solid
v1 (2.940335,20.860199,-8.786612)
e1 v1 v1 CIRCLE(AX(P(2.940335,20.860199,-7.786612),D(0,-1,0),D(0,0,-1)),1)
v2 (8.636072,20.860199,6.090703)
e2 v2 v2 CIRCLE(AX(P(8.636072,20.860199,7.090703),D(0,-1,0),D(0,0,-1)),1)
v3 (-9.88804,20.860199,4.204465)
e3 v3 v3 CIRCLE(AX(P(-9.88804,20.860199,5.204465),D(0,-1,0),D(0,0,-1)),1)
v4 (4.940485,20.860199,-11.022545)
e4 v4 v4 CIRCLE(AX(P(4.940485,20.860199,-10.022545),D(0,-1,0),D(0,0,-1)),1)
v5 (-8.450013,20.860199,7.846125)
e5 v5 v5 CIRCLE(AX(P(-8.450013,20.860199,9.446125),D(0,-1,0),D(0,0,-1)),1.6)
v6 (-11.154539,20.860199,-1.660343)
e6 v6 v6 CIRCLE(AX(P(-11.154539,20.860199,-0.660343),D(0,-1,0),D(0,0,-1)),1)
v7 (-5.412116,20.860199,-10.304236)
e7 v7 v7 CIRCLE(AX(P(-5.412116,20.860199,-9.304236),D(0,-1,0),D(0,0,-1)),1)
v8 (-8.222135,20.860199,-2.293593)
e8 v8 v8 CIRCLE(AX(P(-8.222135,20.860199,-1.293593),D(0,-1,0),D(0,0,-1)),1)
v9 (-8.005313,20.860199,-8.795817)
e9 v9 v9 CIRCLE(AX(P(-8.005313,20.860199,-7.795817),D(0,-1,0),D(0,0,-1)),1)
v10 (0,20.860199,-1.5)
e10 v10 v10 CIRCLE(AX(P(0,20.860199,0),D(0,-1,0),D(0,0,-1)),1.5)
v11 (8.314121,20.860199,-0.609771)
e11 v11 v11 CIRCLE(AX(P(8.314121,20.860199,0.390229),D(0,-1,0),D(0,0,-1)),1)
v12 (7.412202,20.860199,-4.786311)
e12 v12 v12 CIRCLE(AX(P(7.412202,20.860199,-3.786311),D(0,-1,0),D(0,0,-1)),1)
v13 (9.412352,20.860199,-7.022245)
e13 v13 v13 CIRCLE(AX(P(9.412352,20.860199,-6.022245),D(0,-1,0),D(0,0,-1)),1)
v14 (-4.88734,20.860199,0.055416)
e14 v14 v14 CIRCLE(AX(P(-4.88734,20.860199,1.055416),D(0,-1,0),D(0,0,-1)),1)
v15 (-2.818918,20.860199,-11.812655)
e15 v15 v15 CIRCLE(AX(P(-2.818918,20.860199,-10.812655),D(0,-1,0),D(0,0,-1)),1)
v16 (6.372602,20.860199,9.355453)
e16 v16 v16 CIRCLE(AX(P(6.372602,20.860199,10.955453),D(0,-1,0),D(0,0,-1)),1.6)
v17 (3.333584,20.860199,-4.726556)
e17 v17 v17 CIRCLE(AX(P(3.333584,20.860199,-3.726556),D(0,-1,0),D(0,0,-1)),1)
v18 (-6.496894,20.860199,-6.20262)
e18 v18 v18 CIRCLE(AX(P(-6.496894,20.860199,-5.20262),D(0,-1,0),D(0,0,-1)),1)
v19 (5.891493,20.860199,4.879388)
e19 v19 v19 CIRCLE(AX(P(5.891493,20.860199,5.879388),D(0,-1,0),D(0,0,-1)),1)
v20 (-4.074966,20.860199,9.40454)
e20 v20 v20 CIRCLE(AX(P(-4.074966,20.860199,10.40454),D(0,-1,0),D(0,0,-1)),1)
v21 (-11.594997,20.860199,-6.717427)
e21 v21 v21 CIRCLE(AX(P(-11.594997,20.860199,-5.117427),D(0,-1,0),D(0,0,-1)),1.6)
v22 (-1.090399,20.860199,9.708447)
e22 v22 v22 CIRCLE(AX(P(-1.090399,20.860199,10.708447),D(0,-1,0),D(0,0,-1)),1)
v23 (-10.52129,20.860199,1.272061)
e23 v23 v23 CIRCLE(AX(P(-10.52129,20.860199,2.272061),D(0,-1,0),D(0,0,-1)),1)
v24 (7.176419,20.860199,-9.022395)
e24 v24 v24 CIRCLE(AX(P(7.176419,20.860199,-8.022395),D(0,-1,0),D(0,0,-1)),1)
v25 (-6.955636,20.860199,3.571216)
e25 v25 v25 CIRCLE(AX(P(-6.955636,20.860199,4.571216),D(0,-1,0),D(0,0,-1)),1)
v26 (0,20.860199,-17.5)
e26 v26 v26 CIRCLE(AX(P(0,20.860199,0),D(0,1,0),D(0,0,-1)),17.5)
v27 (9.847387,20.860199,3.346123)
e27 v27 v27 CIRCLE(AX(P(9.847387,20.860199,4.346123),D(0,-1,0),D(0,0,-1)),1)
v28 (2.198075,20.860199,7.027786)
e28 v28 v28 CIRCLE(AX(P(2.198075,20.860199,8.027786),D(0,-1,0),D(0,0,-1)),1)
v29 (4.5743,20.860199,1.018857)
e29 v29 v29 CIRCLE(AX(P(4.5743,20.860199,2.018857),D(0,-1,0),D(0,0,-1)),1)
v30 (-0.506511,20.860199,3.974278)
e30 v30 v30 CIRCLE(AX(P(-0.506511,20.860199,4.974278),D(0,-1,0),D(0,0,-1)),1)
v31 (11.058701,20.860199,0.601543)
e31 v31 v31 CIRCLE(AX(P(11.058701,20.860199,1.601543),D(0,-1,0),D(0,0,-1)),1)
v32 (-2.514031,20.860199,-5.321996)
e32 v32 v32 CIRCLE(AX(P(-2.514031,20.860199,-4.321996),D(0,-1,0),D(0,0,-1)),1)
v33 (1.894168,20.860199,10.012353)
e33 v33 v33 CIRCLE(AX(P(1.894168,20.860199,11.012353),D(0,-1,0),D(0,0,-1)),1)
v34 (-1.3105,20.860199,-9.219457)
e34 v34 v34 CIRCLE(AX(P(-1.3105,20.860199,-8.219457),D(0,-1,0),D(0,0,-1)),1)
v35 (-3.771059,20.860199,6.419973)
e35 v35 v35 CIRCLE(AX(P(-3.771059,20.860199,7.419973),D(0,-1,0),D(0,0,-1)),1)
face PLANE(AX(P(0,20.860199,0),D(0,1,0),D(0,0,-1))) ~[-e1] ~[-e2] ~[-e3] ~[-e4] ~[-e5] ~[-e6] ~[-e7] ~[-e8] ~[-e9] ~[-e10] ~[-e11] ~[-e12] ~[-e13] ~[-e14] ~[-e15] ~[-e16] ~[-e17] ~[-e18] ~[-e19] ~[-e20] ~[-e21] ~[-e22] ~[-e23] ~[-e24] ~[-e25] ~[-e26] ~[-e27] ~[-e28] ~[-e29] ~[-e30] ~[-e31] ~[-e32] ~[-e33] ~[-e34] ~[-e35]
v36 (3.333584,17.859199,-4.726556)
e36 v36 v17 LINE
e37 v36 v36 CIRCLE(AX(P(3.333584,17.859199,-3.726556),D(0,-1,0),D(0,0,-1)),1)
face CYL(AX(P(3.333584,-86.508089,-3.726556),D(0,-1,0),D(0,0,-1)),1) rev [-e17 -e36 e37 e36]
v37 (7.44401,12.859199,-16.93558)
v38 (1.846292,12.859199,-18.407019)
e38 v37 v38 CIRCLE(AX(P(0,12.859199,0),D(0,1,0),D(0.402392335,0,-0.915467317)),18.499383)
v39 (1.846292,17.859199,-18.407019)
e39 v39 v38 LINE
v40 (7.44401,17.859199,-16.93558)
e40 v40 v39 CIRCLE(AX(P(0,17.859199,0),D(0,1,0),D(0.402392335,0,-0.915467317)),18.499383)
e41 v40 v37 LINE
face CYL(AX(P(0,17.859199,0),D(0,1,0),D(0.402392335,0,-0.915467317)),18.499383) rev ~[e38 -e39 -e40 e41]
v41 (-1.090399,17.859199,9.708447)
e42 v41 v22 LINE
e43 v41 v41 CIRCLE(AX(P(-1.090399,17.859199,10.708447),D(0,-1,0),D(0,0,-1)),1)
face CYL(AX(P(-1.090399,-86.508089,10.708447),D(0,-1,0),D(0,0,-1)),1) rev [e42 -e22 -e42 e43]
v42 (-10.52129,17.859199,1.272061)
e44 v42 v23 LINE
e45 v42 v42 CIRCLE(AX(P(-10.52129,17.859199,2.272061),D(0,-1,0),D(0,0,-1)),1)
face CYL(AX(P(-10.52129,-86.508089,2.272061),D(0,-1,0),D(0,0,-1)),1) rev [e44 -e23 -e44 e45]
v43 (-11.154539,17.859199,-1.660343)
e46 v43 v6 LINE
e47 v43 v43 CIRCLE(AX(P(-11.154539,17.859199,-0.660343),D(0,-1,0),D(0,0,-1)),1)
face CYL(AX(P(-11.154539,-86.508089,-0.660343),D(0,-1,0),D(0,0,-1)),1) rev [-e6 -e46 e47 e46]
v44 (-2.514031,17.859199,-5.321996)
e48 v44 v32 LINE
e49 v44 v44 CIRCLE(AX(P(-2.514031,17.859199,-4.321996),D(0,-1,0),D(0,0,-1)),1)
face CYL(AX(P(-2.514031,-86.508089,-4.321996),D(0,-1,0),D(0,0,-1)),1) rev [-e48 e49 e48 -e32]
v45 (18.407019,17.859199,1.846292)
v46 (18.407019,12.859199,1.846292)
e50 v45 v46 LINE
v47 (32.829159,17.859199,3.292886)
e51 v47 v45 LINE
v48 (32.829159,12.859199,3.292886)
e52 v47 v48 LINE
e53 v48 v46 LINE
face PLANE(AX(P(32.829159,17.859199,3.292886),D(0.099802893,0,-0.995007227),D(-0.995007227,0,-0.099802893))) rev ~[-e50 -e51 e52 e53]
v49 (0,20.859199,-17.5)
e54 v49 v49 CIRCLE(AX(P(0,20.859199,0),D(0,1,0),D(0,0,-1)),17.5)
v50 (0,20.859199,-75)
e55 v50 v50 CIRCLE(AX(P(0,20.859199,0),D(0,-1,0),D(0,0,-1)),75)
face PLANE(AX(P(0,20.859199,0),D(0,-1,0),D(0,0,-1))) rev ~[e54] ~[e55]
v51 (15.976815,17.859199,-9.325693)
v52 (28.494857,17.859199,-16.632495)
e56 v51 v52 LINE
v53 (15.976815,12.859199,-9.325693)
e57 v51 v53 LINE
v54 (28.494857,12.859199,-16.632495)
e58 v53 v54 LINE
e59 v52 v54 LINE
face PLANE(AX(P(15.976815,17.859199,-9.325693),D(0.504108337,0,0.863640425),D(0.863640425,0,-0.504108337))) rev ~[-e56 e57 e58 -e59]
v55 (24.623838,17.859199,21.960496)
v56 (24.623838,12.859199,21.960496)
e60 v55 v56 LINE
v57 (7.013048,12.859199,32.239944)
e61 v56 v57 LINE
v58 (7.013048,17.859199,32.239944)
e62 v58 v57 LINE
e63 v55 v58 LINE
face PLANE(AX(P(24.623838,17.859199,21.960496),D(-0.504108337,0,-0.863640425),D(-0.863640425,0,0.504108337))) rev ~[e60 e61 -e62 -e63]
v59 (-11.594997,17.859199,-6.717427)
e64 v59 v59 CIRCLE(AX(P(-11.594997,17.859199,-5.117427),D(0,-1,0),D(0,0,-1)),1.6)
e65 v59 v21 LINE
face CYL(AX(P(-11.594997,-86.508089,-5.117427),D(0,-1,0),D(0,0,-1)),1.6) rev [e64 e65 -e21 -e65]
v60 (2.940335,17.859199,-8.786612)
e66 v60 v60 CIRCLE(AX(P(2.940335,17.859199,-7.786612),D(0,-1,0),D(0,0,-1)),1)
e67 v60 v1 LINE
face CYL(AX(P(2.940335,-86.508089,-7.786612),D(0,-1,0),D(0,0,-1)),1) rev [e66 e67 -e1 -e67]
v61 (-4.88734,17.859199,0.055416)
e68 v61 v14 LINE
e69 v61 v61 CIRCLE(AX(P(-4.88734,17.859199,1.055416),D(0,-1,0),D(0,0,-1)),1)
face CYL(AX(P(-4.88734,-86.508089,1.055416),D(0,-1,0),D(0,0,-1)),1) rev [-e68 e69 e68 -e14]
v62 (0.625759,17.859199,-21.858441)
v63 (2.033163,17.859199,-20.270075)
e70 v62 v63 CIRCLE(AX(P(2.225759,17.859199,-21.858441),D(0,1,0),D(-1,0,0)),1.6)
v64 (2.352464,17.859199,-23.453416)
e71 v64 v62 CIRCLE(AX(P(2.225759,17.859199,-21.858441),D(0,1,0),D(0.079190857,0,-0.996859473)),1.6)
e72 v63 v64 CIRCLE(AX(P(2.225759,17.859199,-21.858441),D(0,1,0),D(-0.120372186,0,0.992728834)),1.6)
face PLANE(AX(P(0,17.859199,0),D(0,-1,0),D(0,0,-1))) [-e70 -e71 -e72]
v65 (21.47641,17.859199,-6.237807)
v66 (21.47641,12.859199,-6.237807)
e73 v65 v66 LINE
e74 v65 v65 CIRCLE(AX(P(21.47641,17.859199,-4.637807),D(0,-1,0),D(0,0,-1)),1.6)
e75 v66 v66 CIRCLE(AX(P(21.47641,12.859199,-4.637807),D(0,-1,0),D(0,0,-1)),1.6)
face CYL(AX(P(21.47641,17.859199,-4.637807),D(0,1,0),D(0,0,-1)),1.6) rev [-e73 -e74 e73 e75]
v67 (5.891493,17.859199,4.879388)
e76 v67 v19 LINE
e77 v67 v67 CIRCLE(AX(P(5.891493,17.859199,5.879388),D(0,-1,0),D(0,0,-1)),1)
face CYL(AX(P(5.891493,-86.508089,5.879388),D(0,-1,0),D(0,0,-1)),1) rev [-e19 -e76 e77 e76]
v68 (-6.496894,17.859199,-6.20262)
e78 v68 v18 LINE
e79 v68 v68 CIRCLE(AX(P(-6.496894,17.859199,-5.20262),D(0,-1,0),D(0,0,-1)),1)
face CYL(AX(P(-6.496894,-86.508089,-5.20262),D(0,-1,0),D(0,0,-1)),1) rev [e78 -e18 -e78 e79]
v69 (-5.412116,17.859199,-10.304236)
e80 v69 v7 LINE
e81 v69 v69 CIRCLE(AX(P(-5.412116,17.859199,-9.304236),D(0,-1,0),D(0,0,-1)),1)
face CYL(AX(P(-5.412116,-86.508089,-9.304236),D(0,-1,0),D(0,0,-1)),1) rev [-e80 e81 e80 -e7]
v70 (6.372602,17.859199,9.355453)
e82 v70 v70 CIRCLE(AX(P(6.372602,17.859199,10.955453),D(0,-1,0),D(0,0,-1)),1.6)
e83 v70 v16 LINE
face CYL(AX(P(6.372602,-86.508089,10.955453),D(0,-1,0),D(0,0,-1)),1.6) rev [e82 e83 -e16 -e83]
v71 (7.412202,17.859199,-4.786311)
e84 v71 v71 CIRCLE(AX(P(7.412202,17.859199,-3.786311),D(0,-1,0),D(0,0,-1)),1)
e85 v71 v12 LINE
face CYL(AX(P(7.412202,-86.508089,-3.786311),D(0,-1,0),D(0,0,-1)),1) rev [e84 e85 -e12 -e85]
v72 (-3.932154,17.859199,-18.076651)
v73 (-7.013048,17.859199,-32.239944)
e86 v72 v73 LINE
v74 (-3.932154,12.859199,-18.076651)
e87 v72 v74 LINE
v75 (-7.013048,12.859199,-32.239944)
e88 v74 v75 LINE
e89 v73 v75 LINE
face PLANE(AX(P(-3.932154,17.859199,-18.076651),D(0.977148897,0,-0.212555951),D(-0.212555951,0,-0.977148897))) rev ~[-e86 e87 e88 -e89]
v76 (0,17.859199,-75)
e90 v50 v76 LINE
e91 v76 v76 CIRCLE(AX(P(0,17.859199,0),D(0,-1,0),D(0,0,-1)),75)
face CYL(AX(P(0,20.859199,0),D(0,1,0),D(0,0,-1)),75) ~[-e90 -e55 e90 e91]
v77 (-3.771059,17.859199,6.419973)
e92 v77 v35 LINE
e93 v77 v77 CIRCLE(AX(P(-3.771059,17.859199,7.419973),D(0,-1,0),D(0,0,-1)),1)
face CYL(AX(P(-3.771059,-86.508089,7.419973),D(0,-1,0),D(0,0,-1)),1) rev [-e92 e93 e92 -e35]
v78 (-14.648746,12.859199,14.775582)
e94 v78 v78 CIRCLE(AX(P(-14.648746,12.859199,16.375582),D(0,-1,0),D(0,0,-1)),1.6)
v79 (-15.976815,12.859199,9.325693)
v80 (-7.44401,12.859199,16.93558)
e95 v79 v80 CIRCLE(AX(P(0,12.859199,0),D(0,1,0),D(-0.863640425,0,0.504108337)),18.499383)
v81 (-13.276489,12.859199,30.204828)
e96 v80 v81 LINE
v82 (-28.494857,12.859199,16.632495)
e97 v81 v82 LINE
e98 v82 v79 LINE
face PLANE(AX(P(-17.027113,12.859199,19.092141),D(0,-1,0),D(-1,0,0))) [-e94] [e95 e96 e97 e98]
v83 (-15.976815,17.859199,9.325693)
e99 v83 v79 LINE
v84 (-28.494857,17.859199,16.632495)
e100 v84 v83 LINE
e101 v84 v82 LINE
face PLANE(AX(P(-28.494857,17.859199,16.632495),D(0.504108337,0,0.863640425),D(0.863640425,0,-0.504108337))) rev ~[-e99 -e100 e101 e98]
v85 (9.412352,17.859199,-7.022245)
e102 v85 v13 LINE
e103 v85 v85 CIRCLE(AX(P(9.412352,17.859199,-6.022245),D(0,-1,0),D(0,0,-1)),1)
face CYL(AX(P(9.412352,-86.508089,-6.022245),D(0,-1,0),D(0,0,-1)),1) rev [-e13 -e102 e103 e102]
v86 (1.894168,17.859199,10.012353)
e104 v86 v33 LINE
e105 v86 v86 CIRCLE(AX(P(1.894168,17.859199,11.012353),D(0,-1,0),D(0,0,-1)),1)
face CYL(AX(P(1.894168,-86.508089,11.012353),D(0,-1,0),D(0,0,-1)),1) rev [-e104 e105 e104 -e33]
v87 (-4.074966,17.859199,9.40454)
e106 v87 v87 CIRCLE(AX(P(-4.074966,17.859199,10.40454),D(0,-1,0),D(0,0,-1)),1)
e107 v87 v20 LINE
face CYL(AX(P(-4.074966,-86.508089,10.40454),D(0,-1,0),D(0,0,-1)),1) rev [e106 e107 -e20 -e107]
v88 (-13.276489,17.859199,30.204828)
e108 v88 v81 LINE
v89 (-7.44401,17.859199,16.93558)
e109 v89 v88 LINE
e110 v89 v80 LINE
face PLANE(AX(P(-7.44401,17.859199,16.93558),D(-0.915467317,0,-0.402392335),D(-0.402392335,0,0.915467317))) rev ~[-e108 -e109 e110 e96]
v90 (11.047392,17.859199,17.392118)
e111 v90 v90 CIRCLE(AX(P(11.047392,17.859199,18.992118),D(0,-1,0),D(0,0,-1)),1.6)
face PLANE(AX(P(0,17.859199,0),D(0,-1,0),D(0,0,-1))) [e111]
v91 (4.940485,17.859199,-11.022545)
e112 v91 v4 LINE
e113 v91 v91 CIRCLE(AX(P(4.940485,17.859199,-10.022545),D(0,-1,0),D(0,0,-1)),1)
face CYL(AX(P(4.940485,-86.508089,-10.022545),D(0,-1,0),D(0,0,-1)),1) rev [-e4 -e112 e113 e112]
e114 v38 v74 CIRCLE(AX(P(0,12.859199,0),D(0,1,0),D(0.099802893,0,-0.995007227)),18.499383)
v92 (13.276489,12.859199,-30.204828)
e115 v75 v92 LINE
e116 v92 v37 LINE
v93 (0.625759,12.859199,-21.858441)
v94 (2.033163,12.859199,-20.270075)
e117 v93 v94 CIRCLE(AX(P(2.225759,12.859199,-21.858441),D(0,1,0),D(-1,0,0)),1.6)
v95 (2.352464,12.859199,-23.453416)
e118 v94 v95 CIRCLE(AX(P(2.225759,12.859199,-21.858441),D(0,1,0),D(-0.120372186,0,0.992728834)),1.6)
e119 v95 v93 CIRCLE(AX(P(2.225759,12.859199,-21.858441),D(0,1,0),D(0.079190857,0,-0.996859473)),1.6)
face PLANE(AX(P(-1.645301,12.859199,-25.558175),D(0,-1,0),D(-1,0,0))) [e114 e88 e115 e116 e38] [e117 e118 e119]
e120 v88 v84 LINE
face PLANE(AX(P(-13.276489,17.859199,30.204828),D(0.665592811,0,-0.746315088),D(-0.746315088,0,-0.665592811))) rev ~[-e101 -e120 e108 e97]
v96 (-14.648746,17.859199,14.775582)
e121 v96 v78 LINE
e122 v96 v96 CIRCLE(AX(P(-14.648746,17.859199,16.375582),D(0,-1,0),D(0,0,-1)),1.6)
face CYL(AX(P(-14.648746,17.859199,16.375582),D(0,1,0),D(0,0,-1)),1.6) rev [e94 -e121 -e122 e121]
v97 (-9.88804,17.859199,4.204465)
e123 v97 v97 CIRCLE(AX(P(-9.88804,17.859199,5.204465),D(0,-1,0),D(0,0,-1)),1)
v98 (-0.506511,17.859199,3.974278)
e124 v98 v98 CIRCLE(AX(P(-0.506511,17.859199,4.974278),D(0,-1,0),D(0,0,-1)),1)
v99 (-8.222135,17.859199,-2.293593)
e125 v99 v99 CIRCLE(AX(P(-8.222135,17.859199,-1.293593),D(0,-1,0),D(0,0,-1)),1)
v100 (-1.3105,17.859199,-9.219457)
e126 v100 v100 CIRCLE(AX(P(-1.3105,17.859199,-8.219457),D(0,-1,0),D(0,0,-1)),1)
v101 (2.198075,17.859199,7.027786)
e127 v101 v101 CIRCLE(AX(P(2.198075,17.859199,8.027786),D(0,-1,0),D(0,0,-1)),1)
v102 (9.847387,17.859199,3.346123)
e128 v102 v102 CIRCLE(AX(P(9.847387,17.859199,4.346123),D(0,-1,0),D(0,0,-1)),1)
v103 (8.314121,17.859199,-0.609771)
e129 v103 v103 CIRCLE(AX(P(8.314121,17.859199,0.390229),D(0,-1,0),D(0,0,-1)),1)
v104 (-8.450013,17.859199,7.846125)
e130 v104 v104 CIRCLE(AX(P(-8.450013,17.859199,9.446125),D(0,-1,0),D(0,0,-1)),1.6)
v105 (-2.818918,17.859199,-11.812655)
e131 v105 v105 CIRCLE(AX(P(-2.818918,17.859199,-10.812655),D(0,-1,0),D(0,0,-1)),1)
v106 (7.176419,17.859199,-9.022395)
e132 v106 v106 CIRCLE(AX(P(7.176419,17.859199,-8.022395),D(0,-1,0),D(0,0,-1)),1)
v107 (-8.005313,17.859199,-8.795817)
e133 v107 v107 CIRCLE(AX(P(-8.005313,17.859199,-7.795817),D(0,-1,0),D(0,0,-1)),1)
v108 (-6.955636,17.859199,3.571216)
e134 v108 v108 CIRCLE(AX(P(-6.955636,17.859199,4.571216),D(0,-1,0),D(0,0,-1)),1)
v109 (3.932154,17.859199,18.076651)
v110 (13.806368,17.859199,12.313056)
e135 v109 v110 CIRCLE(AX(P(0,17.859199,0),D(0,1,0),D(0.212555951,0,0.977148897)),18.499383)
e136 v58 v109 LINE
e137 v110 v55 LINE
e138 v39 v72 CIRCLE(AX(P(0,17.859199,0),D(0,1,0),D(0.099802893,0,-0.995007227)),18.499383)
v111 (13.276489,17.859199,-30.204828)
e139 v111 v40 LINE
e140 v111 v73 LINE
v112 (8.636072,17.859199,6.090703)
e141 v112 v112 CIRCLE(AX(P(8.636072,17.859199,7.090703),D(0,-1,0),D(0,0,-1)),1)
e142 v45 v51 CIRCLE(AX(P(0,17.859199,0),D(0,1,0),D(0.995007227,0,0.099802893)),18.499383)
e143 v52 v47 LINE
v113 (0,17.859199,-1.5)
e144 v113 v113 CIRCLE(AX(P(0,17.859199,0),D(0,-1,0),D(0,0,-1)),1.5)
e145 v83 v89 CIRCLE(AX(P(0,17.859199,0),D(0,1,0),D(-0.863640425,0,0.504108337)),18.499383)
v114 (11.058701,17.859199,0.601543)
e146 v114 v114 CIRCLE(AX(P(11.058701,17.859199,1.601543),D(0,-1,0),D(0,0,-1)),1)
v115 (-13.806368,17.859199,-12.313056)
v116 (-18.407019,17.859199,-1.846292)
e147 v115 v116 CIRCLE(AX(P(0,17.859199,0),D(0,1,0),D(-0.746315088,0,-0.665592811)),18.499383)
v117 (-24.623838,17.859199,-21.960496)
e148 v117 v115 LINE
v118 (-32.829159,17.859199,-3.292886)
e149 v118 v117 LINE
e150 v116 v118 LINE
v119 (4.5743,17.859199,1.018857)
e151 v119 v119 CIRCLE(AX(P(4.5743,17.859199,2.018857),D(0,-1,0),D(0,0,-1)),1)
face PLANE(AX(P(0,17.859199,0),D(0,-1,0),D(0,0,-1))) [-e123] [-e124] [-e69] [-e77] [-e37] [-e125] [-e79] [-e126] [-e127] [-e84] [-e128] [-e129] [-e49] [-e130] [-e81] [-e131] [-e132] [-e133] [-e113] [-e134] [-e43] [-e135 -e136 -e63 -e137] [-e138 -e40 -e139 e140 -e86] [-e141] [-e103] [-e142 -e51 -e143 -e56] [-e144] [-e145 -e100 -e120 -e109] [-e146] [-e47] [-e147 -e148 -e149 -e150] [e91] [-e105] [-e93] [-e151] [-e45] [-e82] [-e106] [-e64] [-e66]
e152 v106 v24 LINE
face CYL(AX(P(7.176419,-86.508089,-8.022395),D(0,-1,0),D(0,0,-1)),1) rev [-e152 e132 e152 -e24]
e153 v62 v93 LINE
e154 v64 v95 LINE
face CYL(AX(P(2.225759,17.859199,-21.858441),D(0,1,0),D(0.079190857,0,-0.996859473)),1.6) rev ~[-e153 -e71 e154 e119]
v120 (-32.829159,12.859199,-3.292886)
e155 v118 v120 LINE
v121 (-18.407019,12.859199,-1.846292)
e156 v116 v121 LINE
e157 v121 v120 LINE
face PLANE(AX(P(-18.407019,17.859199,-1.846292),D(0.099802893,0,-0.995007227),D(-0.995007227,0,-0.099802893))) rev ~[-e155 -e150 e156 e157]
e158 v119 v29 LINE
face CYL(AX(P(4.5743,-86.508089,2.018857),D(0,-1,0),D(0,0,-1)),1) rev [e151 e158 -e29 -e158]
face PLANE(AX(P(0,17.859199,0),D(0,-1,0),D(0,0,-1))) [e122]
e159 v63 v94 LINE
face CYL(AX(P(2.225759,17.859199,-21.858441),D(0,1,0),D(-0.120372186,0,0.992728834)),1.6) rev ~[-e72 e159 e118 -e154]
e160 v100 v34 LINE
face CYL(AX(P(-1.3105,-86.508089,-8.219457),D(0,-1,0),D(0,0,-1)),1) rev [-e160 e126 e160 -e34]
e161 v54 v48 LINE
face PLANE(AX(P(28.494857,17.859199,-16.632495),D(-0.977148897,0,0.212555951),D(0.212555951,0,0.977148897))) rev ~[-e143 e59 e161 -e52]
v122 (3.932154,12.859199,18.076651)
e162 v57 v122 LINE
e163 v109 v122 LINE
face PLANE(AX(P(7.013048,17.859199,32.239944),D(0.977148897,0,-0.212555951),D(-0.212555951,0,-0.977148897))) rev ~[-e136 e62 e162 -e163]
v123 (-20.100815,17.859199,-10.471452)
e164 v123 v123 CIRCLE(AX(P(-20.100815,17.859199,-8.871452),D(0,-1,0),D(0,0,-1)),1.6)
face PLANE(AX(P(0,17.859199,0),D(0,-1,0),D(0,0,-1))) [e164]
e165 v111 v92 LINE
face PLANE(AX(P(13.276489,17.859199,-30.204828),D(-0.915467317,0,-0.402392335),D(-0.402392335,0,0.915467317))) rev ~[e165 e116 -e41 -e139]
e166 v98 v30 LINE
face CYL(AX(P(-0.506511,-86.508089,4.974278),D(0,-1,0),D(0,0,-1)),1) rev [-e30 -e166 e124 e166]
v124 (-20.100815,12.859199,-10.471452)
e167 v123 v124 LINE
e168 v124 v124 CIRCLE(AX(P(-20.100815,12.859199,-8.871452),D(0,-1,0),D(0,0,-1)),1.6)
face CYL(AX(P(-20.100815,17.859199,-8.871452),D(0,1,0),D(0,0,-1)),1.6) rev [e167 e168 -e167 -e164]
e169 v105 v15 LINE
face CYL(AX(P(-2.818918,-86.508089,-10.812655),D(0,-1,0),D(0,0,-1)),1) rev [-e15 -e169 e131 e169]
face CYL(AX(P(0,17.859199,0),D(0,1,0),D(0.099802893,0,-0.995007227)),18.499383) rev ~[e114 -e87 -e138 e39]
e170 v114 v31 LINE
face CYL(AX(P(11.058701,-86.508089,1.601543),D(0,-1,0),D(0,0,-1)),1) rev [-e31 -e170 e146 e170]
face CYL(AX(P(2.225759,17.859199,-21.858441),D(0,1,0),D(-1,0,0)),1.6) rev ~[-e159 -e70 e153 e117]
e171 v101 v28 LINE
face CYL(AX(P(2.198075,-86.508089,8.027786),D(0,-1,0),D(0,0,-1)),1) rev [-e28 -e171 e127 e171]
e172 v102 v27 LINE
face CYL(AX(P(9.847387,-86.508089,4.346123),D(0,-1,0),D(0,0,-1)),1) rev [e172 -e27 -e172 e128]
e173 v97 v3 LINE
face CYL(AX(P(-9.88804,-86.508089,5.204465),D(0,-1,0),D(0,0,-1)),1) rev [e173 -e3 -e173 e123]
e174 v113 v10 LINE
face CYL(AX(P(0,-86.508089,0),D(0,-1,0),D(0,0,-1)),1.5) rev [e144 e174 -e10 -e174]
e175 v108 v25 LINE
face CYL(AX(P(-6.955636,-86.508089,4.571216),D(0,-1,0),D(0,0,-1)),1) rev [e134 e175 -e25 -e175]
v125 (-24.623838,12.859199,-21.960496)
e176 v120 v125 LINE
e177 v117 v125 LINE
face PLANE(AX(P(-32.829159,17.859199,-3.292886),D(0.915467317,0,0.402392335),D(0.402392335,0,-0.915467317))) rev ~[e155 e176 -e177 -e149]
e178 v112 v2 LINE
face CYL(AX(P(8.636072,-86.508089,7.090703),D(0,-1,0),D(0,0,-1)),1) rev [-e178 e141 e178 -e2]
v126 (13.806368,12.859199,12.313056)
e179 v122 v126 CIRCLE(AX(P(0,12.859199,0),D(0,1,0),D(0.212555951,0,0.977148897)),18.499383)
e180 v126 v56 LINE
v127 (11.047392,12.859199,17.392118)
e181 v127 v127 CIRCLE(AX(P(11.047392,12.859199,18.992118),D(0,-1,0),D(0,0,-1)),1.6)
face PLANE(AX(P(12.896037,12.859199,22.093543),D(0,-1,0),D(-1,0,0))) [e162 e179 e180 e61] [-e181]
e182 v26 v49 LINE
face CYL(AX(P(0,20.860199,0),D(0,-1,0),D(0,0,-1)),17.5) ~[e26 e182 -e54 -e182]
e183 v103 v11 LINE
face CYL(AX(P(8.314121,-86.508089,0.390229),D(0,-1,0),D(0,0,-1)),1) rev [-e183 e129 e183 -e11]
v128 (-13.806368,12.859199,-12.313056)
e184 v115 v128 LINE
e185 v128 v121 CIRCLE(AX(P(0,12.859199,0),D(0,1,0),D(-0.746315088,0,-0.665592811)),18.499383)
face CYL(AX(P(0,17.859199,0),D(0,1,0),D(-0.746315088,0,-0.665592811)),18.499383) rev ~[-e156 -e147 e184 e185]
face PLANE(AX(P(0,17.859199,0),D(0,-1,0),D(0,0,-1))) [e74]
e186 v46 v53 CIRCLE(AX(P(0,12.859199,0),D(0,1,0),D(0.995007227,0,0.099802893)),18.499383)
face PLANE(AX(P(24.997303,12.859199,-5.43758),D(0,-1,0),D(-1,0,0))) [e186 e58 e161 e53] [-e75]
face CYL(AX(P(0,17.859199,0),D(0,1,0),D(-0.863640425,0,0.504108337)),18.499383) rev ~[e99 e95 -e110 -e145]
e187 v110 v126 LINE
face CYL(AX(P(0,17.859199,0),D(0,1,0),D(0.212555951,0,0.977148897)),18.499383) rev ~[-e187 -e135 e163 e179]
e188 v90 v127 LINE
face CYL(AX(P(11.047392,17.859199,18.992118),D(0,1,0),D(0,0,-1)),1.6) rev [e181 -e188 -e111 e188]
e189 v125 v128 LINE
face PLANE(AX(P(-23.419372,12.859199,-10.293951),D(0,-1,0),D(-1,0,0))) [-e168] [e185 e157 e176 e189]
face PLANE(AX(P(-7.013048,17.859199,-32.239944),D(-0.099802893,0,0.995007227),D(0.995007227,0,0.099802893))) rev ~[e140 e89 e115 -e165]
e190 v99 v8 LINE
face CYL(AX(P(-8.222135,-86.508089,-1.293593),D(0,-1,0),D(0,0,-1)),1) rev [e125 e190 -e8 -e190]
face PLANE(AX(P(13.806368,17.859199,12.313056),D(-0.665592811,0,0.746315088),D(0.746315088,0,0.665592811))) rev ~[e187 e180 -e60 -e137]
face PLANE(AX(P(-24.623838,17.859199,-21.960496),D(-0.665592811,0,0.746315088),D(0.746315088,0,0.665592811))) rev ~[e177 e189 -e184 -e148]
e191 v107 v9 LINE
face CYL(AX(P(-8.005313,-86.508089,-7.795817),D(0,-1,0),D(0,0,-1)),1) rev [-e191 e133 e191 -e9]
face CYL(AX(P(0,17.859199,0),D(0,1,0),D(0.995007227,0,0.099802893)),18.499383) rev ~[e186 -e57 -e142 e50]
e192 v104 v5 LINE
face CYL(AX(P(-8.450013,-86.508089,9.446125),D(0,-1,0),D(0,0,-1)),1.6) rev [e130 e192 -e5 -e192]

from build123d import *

# Parameters (mm, degrees)
SKETCH_2_R               = 75
EXTRUDE_1_DEPTH          = 3
SKETCH_3_R               = 1.599999866
EXTRUDE_2_DEPTH          = 5
CUT_EXTRUDE_1_DEPTH      = 10
CUT_EXTRUDE_1_DEPTH_BACK = 107.367288205
SKETCH_18_R              = 1.5
SKETCH_18_R_2            = 1
SKETCH_18_R_3            = 1.6


with BuildPart() as part:
    # 草图1 → 旋转1 (revolve)
    with BuildSketch(Plane.XY, mode=Mode.PRIVATE) as revolve_1_sk:
        Polygon((0, 20.860199313), (-13.879633592, 20.860199313), (-17.5, 20.860199313), (-17.5, 20.859199313), (0, 20.859199313), align=None)
    revolve(revolve_1_sk.sketch.rotate(Axis((0, 0, 0), (0, 1, 0)), 270), axis=Axis((0, 0, 0), (0, 1, 0)))

    # 草图2 → 凸台-拉伸1 (add)
    with BuildSketch(Plane.XZ.offset(-20.859199313)):
        with Locations(Location((0, 0, 0), (0, 0, 270))):
            Circle(SKETCH_2_R)
    extrude(amount=EXTRUDE_1_DEPTH)

    # 草图3 → 凸台-拉伸2 (add)
    # profile 1 of 6: a face of its own
    with BuildSketch(Plane(origin=(0, 17.859199313, 0), x_dir=(-1, 0, 0), z_dir=(0, -1, 0))):
        with BuildLine():
            Line((-2.033163228, 20.270074719), (-1.846291915, 18.407019447))
            ThreePointArc((-1.846291915, 18.407019447), (1.055931242, 18.469222181), (3.932153868, 18.076651369))
            Line((3.932153868, 18.076651369), (7.013047727, 32.239943565))
            Line((7.013047727, 32.239943565), (-3.131720421, 31.222385917))
            Line((-3.131720421, 31.222385917), (-2.352464069, 23.453415742))
            ThreePointArc((-2.352464069, 23.453415742), (-1.140108901, 23.033755173), (-0.625758844, 21.858440719))
            ThreePointArc((-0.625758844, 21.858440719), (-1.028229521, 20.797345336), (-2.033163228, 20.270074719))
        make_face()
    # profile 2 of 6: a face of its own
    with BuildSketch(Plane(origin=(0, 17.859199313, 0), x_dir=(-1, 0, 0), z_dir=(0, -1, 0))):
        with BuildLine():
            ThreePointArc((-7.444009782, 16.935580213), (-4.703053238, 17.891574805), (-1.846291915, 18.407019447))
            Line((-1.846291915, 18.407019447), (-2.033163228, 20.270074719))
            ThreePointArc((-2.033163228, 20.270074719), (-3.817770139, 21.698756103), (-2.352464069, 23.453415742))
            Line((-2.352464069, 23.453415742), (-3.131720421, 31.222385917))
            Line((-3.131720421, 31.222385917), (-13.276488569, 30.204828269))
            Line((-13.276488569, 30.204828269), (-7.444009782, 16.935580213))
        make_face()
    # profile 3 of 6: a face of its own
    with BuildSketch(Plane(origin=(0, 17.859199313, 0), x_dir=(-1, 0, 0), z_dir=(0, -1, 0))):
        with BuildLine():
            Line((24.623838156, 21.960496214), (13.80636839, 12.313056106))
            ThreePointArc((13.80636839, 12.313056106), (16.935580213, 7.444009782), (18.407019447, 1.846291915))
            Line((18.407019447, 1.846291915), (32.829159342, 3.292885719))
            Line((32.829159342, 3.292885719), (24.623838156, 21.960496214))
        make_face()
        with Locations(Location((20.100815215, 8.871451977, 0), (0, 0, 90))):
            Circle(SKETCH_3_R, mode=Mode.SUBTRACT)
    # profile 4 of 6: a face of its own
    with BuildSketch(Plane(origin=(0, 17.859199313, 0), x_dir=(-1, 0, 0), z_dir=(0, -1, 0))):
        with BuildLine():
            ThreePointArc((15.976814708, -9.325693034), (12.313056106, -13.80636839), (7.444009782, -16.935580213))
            Line((7.444009782, -16.935580213), (13.276488569, -30.204828269))
            Line((13.276488569, -30.204828269), (28.494857482, -16.632495199))
            Line((28.494857482, -16.632495199), (15.976814708, -9.325693034))
        make_face()
        with Locations(Location((14.648745714, -16.375581868, 0), (0, 0, 90))):
            Circle(SKETCH_3_R, mode=Mode.SUBTRACT)
    # profile 5 of 6: a face of its own
    with BuildSketch(Plane(origin=(0, 17.859199313, 0), x_dir=(-1, 0, 0), z_dir=(0, -1, 0))):
        with BuildLine():
            Line((-7.013047727, -32.239943565), (-3.932153868, -18.076651369))
            ThreePointArc((-3.932153868, -18.076651369), (-9.325693034, -15.976814708), (-13.80636839, -12.313056106))
            Line((-13.80636839, -12.313056106), (-24.623838156, -21.960496214))
            Line((-24.623838156, -21.960496214), (-7.013047727, -32.239943565))
        make_face()
        with Locations(Location((-11.047392472, -18.992118157, 0), (0, 0, 90))):
            Circle(SKETCH_3_R, mode=Mode.SUBTRACT)
    # profile 6 of 6: a face of its own
    with BuildSketch(Plane(origin=(0, 17.859199313, 0), x_dir=(-1, 0, 0), z_dir=(0, -1, 0))):
        with BuildLine():
            Line((-32.829159342, -3.292885719), (-18.407019447, -1.846291915))
            ThreePointArc((-18.407019447, -1.846291915), (-18.076651369, 3.932153868), (-15.976814708, 9.325693034))
            Line((-15.976814708, 9.325693034), (-28.494857482, 16.632495199))
            Line((-28.494857482, 16.632495199), (-32.829159342, -3.292885719))
        make_face()
        with Locations(Location((-21.476409748, 4.637807329, 0), (0, 0, 90))):
            Circle(SKETCH_3_R, mode=Mode.SUBTRACT)
    extrude(amount=EXTRUDE_2_DEPTH)

    # 草图18 → 切除-拉伸1 (cut, two sides: drawn at the far end of the back side and taken through both)
    with BuildSketch(Plane(origin=(0, 20.859199313, 0), x_dir=(1, 0, 0), z_dir=(0, 1, 0)).offset(-CUT_EXTRUDE_1_DEPTH_BACK)):
        with Locations(Location((1.98e-07, 1.15e-07, 0), (0, 0, 90))):
            Circle(SKETCH_18_R)
        with Locations(Location((2.94033472, 7.786611797, 0), (0, 0, 90))):
            Circle(SKETCH_18_R_2)
        with Locations(Location((4.940484912, 10.022545429, 0), (0, 0, 90))):
            Circle(SKETCH_18_R_2)
        with Locations(Location((7.176418545, 8.022395237, 0), (0, 0, 90))):
            Circle(SKETCH_18_R_2)
        with Locations(Location((9.412352177, 6.022245045, 0), (0, 0, 90))):
            Circle(SKETCH_18_R_2)
        with Locations(Location((7.412201985, 3.786311413, 0), (0, 0, 90))):
            Circle(SKETCH_18_R_2)
        with Locations(Location((3.333583851, 3.726556169, 0), (0, 0, 90))):
            Circle(SKETCH_18_R_2)
        with Locations(Location((-0.50651094, -4.974278372, 0), (0, 0, 90))):
            Circle(SKETCH_18_R_2)
        with Locations(Location((8.6360722, -7.090702541, 0), (0, 0, 90))):
            Circle(SKETCH_18_R_2)
        with Locations(Location((9.847386583, -4.34612289, 0), (0, 0, 90))):
            Circle(SKETCH_18_R_2)
        with Locations(Location((11.058700966, -1.601543238, 0), (0, 0, 90))):
            Circle(SKETCH_18_R_2)
        with Locations(Location((8.314121314, -0.390228855, 0), (0, 0, 90))):
            Circle(SKETCH_18_R_2)
        with Locations(Location((4.574299617, -2.01885719, 0), (0, 0, 90))):
            Circle(SKETCH_18_R_2)
        with Locations(Location((5.891492548, -5.879388159, 0), (0, 0, 90))):
            Circle(SKETCH_18_R_2)
        with Locations(Location((6.372601501, -10.955453391, 0), (0, 0, 90))):
            Circle(SKETCH_18_R_3)
        with Locations(Location((2.198075111, -8.027786333, 0), (0, 0, 90))):
            Circle(SKETCH_18_R_2)
        with Locations(Location((1.894168429, -11.012353426, 0), (0, 0, 90))):
            Circle(SKETCH_18_R_2)
        with Locations(Location((-1.090398663, -10.708446744, 0), (0, 0, 90))):
            Circle(SKETCH_18_R_2)
        with Locations(Location((-4.074965755, -10.404540061, 0), (0, 0, 90))):
            Circle(SKETCH_18_R_2)
        with Locations(Location((-8.450013147, -9.446125195, 0), (0, 0, 90))):
            Circle(SKETCH_18_R_3)
        with Locations(Location((-3.771059073, -7.419972969, 0), (0, 0, 90))):
            Circle(SKETCH_18_R_2)
        with Locations(Location((-9.888040223, -5.204465317, 0), (0, 0, 90))):
            Circle(SKETCH_18_R_2)
        with Locations(Location((-6.955635912, -4.571215795, 0), (0, 0, 90))):
            Circle(SKETCH_18_R_2)
        with Locations(Location((-4.887340321, -1.055415755, 0), (0, 0, 90))):
            Circle(SKETCH_18_R_2)
        with Locations(Location((-10.521289745, -2.272061006, 0), (0, 0, 90))):
            Circle(SKETCH_18_R_2)
        with Locations(Location((-11.154539267, 0.660343305, 0), (0, 0, 90))):
            Circle(SKETCH_18_R_2)
        with Locations(Location((-8.222134956, 1.293592827, 0), (0, 0, 90))):
            Circle(SKETCH_18_R_2)
        with Locations(Location((-2.51403122, 4.321995722, 0), (0, 0, 90))):
            Circle(SKETCH_18_R_2)
        with Locations(Location((-6.496894246, 5.202619761, 0), (0, 0, 90))):
            Circle(SKETCH_18_R_2)
        with Locations(Location((-1.310499517, 8.219457462, 0), (0, 0, 90))):
            Circle(SKETCH_18_R_2)
        with Locations(Location((-2.818918367, 10.812654827, 0), (0, 0, 90))):
            Circle(SKETCH_18_R_2)
        with Locations(Location((-5.412115732, 9.304235976, 0), (0, 0, 90))):
            Circle(SKETCH_18_R_2)
        with Locations(Location((-8.005313096, 7.795817125, 0), (0, 0, 90))):
            Circle(SKETCH_18_R_2)
        with Locations(Location((-11.594996558, 5.117427117, 0), (0, 0, 90))):
            Circle(SKETCH_18_R_3)
    extrude(amount=CUT_EXTRUDE_1_DEPTH + CUT_EXTRUDE_1_DEPTH_BACK, mode=Mode.SUBTRACT)


solid = part.part
